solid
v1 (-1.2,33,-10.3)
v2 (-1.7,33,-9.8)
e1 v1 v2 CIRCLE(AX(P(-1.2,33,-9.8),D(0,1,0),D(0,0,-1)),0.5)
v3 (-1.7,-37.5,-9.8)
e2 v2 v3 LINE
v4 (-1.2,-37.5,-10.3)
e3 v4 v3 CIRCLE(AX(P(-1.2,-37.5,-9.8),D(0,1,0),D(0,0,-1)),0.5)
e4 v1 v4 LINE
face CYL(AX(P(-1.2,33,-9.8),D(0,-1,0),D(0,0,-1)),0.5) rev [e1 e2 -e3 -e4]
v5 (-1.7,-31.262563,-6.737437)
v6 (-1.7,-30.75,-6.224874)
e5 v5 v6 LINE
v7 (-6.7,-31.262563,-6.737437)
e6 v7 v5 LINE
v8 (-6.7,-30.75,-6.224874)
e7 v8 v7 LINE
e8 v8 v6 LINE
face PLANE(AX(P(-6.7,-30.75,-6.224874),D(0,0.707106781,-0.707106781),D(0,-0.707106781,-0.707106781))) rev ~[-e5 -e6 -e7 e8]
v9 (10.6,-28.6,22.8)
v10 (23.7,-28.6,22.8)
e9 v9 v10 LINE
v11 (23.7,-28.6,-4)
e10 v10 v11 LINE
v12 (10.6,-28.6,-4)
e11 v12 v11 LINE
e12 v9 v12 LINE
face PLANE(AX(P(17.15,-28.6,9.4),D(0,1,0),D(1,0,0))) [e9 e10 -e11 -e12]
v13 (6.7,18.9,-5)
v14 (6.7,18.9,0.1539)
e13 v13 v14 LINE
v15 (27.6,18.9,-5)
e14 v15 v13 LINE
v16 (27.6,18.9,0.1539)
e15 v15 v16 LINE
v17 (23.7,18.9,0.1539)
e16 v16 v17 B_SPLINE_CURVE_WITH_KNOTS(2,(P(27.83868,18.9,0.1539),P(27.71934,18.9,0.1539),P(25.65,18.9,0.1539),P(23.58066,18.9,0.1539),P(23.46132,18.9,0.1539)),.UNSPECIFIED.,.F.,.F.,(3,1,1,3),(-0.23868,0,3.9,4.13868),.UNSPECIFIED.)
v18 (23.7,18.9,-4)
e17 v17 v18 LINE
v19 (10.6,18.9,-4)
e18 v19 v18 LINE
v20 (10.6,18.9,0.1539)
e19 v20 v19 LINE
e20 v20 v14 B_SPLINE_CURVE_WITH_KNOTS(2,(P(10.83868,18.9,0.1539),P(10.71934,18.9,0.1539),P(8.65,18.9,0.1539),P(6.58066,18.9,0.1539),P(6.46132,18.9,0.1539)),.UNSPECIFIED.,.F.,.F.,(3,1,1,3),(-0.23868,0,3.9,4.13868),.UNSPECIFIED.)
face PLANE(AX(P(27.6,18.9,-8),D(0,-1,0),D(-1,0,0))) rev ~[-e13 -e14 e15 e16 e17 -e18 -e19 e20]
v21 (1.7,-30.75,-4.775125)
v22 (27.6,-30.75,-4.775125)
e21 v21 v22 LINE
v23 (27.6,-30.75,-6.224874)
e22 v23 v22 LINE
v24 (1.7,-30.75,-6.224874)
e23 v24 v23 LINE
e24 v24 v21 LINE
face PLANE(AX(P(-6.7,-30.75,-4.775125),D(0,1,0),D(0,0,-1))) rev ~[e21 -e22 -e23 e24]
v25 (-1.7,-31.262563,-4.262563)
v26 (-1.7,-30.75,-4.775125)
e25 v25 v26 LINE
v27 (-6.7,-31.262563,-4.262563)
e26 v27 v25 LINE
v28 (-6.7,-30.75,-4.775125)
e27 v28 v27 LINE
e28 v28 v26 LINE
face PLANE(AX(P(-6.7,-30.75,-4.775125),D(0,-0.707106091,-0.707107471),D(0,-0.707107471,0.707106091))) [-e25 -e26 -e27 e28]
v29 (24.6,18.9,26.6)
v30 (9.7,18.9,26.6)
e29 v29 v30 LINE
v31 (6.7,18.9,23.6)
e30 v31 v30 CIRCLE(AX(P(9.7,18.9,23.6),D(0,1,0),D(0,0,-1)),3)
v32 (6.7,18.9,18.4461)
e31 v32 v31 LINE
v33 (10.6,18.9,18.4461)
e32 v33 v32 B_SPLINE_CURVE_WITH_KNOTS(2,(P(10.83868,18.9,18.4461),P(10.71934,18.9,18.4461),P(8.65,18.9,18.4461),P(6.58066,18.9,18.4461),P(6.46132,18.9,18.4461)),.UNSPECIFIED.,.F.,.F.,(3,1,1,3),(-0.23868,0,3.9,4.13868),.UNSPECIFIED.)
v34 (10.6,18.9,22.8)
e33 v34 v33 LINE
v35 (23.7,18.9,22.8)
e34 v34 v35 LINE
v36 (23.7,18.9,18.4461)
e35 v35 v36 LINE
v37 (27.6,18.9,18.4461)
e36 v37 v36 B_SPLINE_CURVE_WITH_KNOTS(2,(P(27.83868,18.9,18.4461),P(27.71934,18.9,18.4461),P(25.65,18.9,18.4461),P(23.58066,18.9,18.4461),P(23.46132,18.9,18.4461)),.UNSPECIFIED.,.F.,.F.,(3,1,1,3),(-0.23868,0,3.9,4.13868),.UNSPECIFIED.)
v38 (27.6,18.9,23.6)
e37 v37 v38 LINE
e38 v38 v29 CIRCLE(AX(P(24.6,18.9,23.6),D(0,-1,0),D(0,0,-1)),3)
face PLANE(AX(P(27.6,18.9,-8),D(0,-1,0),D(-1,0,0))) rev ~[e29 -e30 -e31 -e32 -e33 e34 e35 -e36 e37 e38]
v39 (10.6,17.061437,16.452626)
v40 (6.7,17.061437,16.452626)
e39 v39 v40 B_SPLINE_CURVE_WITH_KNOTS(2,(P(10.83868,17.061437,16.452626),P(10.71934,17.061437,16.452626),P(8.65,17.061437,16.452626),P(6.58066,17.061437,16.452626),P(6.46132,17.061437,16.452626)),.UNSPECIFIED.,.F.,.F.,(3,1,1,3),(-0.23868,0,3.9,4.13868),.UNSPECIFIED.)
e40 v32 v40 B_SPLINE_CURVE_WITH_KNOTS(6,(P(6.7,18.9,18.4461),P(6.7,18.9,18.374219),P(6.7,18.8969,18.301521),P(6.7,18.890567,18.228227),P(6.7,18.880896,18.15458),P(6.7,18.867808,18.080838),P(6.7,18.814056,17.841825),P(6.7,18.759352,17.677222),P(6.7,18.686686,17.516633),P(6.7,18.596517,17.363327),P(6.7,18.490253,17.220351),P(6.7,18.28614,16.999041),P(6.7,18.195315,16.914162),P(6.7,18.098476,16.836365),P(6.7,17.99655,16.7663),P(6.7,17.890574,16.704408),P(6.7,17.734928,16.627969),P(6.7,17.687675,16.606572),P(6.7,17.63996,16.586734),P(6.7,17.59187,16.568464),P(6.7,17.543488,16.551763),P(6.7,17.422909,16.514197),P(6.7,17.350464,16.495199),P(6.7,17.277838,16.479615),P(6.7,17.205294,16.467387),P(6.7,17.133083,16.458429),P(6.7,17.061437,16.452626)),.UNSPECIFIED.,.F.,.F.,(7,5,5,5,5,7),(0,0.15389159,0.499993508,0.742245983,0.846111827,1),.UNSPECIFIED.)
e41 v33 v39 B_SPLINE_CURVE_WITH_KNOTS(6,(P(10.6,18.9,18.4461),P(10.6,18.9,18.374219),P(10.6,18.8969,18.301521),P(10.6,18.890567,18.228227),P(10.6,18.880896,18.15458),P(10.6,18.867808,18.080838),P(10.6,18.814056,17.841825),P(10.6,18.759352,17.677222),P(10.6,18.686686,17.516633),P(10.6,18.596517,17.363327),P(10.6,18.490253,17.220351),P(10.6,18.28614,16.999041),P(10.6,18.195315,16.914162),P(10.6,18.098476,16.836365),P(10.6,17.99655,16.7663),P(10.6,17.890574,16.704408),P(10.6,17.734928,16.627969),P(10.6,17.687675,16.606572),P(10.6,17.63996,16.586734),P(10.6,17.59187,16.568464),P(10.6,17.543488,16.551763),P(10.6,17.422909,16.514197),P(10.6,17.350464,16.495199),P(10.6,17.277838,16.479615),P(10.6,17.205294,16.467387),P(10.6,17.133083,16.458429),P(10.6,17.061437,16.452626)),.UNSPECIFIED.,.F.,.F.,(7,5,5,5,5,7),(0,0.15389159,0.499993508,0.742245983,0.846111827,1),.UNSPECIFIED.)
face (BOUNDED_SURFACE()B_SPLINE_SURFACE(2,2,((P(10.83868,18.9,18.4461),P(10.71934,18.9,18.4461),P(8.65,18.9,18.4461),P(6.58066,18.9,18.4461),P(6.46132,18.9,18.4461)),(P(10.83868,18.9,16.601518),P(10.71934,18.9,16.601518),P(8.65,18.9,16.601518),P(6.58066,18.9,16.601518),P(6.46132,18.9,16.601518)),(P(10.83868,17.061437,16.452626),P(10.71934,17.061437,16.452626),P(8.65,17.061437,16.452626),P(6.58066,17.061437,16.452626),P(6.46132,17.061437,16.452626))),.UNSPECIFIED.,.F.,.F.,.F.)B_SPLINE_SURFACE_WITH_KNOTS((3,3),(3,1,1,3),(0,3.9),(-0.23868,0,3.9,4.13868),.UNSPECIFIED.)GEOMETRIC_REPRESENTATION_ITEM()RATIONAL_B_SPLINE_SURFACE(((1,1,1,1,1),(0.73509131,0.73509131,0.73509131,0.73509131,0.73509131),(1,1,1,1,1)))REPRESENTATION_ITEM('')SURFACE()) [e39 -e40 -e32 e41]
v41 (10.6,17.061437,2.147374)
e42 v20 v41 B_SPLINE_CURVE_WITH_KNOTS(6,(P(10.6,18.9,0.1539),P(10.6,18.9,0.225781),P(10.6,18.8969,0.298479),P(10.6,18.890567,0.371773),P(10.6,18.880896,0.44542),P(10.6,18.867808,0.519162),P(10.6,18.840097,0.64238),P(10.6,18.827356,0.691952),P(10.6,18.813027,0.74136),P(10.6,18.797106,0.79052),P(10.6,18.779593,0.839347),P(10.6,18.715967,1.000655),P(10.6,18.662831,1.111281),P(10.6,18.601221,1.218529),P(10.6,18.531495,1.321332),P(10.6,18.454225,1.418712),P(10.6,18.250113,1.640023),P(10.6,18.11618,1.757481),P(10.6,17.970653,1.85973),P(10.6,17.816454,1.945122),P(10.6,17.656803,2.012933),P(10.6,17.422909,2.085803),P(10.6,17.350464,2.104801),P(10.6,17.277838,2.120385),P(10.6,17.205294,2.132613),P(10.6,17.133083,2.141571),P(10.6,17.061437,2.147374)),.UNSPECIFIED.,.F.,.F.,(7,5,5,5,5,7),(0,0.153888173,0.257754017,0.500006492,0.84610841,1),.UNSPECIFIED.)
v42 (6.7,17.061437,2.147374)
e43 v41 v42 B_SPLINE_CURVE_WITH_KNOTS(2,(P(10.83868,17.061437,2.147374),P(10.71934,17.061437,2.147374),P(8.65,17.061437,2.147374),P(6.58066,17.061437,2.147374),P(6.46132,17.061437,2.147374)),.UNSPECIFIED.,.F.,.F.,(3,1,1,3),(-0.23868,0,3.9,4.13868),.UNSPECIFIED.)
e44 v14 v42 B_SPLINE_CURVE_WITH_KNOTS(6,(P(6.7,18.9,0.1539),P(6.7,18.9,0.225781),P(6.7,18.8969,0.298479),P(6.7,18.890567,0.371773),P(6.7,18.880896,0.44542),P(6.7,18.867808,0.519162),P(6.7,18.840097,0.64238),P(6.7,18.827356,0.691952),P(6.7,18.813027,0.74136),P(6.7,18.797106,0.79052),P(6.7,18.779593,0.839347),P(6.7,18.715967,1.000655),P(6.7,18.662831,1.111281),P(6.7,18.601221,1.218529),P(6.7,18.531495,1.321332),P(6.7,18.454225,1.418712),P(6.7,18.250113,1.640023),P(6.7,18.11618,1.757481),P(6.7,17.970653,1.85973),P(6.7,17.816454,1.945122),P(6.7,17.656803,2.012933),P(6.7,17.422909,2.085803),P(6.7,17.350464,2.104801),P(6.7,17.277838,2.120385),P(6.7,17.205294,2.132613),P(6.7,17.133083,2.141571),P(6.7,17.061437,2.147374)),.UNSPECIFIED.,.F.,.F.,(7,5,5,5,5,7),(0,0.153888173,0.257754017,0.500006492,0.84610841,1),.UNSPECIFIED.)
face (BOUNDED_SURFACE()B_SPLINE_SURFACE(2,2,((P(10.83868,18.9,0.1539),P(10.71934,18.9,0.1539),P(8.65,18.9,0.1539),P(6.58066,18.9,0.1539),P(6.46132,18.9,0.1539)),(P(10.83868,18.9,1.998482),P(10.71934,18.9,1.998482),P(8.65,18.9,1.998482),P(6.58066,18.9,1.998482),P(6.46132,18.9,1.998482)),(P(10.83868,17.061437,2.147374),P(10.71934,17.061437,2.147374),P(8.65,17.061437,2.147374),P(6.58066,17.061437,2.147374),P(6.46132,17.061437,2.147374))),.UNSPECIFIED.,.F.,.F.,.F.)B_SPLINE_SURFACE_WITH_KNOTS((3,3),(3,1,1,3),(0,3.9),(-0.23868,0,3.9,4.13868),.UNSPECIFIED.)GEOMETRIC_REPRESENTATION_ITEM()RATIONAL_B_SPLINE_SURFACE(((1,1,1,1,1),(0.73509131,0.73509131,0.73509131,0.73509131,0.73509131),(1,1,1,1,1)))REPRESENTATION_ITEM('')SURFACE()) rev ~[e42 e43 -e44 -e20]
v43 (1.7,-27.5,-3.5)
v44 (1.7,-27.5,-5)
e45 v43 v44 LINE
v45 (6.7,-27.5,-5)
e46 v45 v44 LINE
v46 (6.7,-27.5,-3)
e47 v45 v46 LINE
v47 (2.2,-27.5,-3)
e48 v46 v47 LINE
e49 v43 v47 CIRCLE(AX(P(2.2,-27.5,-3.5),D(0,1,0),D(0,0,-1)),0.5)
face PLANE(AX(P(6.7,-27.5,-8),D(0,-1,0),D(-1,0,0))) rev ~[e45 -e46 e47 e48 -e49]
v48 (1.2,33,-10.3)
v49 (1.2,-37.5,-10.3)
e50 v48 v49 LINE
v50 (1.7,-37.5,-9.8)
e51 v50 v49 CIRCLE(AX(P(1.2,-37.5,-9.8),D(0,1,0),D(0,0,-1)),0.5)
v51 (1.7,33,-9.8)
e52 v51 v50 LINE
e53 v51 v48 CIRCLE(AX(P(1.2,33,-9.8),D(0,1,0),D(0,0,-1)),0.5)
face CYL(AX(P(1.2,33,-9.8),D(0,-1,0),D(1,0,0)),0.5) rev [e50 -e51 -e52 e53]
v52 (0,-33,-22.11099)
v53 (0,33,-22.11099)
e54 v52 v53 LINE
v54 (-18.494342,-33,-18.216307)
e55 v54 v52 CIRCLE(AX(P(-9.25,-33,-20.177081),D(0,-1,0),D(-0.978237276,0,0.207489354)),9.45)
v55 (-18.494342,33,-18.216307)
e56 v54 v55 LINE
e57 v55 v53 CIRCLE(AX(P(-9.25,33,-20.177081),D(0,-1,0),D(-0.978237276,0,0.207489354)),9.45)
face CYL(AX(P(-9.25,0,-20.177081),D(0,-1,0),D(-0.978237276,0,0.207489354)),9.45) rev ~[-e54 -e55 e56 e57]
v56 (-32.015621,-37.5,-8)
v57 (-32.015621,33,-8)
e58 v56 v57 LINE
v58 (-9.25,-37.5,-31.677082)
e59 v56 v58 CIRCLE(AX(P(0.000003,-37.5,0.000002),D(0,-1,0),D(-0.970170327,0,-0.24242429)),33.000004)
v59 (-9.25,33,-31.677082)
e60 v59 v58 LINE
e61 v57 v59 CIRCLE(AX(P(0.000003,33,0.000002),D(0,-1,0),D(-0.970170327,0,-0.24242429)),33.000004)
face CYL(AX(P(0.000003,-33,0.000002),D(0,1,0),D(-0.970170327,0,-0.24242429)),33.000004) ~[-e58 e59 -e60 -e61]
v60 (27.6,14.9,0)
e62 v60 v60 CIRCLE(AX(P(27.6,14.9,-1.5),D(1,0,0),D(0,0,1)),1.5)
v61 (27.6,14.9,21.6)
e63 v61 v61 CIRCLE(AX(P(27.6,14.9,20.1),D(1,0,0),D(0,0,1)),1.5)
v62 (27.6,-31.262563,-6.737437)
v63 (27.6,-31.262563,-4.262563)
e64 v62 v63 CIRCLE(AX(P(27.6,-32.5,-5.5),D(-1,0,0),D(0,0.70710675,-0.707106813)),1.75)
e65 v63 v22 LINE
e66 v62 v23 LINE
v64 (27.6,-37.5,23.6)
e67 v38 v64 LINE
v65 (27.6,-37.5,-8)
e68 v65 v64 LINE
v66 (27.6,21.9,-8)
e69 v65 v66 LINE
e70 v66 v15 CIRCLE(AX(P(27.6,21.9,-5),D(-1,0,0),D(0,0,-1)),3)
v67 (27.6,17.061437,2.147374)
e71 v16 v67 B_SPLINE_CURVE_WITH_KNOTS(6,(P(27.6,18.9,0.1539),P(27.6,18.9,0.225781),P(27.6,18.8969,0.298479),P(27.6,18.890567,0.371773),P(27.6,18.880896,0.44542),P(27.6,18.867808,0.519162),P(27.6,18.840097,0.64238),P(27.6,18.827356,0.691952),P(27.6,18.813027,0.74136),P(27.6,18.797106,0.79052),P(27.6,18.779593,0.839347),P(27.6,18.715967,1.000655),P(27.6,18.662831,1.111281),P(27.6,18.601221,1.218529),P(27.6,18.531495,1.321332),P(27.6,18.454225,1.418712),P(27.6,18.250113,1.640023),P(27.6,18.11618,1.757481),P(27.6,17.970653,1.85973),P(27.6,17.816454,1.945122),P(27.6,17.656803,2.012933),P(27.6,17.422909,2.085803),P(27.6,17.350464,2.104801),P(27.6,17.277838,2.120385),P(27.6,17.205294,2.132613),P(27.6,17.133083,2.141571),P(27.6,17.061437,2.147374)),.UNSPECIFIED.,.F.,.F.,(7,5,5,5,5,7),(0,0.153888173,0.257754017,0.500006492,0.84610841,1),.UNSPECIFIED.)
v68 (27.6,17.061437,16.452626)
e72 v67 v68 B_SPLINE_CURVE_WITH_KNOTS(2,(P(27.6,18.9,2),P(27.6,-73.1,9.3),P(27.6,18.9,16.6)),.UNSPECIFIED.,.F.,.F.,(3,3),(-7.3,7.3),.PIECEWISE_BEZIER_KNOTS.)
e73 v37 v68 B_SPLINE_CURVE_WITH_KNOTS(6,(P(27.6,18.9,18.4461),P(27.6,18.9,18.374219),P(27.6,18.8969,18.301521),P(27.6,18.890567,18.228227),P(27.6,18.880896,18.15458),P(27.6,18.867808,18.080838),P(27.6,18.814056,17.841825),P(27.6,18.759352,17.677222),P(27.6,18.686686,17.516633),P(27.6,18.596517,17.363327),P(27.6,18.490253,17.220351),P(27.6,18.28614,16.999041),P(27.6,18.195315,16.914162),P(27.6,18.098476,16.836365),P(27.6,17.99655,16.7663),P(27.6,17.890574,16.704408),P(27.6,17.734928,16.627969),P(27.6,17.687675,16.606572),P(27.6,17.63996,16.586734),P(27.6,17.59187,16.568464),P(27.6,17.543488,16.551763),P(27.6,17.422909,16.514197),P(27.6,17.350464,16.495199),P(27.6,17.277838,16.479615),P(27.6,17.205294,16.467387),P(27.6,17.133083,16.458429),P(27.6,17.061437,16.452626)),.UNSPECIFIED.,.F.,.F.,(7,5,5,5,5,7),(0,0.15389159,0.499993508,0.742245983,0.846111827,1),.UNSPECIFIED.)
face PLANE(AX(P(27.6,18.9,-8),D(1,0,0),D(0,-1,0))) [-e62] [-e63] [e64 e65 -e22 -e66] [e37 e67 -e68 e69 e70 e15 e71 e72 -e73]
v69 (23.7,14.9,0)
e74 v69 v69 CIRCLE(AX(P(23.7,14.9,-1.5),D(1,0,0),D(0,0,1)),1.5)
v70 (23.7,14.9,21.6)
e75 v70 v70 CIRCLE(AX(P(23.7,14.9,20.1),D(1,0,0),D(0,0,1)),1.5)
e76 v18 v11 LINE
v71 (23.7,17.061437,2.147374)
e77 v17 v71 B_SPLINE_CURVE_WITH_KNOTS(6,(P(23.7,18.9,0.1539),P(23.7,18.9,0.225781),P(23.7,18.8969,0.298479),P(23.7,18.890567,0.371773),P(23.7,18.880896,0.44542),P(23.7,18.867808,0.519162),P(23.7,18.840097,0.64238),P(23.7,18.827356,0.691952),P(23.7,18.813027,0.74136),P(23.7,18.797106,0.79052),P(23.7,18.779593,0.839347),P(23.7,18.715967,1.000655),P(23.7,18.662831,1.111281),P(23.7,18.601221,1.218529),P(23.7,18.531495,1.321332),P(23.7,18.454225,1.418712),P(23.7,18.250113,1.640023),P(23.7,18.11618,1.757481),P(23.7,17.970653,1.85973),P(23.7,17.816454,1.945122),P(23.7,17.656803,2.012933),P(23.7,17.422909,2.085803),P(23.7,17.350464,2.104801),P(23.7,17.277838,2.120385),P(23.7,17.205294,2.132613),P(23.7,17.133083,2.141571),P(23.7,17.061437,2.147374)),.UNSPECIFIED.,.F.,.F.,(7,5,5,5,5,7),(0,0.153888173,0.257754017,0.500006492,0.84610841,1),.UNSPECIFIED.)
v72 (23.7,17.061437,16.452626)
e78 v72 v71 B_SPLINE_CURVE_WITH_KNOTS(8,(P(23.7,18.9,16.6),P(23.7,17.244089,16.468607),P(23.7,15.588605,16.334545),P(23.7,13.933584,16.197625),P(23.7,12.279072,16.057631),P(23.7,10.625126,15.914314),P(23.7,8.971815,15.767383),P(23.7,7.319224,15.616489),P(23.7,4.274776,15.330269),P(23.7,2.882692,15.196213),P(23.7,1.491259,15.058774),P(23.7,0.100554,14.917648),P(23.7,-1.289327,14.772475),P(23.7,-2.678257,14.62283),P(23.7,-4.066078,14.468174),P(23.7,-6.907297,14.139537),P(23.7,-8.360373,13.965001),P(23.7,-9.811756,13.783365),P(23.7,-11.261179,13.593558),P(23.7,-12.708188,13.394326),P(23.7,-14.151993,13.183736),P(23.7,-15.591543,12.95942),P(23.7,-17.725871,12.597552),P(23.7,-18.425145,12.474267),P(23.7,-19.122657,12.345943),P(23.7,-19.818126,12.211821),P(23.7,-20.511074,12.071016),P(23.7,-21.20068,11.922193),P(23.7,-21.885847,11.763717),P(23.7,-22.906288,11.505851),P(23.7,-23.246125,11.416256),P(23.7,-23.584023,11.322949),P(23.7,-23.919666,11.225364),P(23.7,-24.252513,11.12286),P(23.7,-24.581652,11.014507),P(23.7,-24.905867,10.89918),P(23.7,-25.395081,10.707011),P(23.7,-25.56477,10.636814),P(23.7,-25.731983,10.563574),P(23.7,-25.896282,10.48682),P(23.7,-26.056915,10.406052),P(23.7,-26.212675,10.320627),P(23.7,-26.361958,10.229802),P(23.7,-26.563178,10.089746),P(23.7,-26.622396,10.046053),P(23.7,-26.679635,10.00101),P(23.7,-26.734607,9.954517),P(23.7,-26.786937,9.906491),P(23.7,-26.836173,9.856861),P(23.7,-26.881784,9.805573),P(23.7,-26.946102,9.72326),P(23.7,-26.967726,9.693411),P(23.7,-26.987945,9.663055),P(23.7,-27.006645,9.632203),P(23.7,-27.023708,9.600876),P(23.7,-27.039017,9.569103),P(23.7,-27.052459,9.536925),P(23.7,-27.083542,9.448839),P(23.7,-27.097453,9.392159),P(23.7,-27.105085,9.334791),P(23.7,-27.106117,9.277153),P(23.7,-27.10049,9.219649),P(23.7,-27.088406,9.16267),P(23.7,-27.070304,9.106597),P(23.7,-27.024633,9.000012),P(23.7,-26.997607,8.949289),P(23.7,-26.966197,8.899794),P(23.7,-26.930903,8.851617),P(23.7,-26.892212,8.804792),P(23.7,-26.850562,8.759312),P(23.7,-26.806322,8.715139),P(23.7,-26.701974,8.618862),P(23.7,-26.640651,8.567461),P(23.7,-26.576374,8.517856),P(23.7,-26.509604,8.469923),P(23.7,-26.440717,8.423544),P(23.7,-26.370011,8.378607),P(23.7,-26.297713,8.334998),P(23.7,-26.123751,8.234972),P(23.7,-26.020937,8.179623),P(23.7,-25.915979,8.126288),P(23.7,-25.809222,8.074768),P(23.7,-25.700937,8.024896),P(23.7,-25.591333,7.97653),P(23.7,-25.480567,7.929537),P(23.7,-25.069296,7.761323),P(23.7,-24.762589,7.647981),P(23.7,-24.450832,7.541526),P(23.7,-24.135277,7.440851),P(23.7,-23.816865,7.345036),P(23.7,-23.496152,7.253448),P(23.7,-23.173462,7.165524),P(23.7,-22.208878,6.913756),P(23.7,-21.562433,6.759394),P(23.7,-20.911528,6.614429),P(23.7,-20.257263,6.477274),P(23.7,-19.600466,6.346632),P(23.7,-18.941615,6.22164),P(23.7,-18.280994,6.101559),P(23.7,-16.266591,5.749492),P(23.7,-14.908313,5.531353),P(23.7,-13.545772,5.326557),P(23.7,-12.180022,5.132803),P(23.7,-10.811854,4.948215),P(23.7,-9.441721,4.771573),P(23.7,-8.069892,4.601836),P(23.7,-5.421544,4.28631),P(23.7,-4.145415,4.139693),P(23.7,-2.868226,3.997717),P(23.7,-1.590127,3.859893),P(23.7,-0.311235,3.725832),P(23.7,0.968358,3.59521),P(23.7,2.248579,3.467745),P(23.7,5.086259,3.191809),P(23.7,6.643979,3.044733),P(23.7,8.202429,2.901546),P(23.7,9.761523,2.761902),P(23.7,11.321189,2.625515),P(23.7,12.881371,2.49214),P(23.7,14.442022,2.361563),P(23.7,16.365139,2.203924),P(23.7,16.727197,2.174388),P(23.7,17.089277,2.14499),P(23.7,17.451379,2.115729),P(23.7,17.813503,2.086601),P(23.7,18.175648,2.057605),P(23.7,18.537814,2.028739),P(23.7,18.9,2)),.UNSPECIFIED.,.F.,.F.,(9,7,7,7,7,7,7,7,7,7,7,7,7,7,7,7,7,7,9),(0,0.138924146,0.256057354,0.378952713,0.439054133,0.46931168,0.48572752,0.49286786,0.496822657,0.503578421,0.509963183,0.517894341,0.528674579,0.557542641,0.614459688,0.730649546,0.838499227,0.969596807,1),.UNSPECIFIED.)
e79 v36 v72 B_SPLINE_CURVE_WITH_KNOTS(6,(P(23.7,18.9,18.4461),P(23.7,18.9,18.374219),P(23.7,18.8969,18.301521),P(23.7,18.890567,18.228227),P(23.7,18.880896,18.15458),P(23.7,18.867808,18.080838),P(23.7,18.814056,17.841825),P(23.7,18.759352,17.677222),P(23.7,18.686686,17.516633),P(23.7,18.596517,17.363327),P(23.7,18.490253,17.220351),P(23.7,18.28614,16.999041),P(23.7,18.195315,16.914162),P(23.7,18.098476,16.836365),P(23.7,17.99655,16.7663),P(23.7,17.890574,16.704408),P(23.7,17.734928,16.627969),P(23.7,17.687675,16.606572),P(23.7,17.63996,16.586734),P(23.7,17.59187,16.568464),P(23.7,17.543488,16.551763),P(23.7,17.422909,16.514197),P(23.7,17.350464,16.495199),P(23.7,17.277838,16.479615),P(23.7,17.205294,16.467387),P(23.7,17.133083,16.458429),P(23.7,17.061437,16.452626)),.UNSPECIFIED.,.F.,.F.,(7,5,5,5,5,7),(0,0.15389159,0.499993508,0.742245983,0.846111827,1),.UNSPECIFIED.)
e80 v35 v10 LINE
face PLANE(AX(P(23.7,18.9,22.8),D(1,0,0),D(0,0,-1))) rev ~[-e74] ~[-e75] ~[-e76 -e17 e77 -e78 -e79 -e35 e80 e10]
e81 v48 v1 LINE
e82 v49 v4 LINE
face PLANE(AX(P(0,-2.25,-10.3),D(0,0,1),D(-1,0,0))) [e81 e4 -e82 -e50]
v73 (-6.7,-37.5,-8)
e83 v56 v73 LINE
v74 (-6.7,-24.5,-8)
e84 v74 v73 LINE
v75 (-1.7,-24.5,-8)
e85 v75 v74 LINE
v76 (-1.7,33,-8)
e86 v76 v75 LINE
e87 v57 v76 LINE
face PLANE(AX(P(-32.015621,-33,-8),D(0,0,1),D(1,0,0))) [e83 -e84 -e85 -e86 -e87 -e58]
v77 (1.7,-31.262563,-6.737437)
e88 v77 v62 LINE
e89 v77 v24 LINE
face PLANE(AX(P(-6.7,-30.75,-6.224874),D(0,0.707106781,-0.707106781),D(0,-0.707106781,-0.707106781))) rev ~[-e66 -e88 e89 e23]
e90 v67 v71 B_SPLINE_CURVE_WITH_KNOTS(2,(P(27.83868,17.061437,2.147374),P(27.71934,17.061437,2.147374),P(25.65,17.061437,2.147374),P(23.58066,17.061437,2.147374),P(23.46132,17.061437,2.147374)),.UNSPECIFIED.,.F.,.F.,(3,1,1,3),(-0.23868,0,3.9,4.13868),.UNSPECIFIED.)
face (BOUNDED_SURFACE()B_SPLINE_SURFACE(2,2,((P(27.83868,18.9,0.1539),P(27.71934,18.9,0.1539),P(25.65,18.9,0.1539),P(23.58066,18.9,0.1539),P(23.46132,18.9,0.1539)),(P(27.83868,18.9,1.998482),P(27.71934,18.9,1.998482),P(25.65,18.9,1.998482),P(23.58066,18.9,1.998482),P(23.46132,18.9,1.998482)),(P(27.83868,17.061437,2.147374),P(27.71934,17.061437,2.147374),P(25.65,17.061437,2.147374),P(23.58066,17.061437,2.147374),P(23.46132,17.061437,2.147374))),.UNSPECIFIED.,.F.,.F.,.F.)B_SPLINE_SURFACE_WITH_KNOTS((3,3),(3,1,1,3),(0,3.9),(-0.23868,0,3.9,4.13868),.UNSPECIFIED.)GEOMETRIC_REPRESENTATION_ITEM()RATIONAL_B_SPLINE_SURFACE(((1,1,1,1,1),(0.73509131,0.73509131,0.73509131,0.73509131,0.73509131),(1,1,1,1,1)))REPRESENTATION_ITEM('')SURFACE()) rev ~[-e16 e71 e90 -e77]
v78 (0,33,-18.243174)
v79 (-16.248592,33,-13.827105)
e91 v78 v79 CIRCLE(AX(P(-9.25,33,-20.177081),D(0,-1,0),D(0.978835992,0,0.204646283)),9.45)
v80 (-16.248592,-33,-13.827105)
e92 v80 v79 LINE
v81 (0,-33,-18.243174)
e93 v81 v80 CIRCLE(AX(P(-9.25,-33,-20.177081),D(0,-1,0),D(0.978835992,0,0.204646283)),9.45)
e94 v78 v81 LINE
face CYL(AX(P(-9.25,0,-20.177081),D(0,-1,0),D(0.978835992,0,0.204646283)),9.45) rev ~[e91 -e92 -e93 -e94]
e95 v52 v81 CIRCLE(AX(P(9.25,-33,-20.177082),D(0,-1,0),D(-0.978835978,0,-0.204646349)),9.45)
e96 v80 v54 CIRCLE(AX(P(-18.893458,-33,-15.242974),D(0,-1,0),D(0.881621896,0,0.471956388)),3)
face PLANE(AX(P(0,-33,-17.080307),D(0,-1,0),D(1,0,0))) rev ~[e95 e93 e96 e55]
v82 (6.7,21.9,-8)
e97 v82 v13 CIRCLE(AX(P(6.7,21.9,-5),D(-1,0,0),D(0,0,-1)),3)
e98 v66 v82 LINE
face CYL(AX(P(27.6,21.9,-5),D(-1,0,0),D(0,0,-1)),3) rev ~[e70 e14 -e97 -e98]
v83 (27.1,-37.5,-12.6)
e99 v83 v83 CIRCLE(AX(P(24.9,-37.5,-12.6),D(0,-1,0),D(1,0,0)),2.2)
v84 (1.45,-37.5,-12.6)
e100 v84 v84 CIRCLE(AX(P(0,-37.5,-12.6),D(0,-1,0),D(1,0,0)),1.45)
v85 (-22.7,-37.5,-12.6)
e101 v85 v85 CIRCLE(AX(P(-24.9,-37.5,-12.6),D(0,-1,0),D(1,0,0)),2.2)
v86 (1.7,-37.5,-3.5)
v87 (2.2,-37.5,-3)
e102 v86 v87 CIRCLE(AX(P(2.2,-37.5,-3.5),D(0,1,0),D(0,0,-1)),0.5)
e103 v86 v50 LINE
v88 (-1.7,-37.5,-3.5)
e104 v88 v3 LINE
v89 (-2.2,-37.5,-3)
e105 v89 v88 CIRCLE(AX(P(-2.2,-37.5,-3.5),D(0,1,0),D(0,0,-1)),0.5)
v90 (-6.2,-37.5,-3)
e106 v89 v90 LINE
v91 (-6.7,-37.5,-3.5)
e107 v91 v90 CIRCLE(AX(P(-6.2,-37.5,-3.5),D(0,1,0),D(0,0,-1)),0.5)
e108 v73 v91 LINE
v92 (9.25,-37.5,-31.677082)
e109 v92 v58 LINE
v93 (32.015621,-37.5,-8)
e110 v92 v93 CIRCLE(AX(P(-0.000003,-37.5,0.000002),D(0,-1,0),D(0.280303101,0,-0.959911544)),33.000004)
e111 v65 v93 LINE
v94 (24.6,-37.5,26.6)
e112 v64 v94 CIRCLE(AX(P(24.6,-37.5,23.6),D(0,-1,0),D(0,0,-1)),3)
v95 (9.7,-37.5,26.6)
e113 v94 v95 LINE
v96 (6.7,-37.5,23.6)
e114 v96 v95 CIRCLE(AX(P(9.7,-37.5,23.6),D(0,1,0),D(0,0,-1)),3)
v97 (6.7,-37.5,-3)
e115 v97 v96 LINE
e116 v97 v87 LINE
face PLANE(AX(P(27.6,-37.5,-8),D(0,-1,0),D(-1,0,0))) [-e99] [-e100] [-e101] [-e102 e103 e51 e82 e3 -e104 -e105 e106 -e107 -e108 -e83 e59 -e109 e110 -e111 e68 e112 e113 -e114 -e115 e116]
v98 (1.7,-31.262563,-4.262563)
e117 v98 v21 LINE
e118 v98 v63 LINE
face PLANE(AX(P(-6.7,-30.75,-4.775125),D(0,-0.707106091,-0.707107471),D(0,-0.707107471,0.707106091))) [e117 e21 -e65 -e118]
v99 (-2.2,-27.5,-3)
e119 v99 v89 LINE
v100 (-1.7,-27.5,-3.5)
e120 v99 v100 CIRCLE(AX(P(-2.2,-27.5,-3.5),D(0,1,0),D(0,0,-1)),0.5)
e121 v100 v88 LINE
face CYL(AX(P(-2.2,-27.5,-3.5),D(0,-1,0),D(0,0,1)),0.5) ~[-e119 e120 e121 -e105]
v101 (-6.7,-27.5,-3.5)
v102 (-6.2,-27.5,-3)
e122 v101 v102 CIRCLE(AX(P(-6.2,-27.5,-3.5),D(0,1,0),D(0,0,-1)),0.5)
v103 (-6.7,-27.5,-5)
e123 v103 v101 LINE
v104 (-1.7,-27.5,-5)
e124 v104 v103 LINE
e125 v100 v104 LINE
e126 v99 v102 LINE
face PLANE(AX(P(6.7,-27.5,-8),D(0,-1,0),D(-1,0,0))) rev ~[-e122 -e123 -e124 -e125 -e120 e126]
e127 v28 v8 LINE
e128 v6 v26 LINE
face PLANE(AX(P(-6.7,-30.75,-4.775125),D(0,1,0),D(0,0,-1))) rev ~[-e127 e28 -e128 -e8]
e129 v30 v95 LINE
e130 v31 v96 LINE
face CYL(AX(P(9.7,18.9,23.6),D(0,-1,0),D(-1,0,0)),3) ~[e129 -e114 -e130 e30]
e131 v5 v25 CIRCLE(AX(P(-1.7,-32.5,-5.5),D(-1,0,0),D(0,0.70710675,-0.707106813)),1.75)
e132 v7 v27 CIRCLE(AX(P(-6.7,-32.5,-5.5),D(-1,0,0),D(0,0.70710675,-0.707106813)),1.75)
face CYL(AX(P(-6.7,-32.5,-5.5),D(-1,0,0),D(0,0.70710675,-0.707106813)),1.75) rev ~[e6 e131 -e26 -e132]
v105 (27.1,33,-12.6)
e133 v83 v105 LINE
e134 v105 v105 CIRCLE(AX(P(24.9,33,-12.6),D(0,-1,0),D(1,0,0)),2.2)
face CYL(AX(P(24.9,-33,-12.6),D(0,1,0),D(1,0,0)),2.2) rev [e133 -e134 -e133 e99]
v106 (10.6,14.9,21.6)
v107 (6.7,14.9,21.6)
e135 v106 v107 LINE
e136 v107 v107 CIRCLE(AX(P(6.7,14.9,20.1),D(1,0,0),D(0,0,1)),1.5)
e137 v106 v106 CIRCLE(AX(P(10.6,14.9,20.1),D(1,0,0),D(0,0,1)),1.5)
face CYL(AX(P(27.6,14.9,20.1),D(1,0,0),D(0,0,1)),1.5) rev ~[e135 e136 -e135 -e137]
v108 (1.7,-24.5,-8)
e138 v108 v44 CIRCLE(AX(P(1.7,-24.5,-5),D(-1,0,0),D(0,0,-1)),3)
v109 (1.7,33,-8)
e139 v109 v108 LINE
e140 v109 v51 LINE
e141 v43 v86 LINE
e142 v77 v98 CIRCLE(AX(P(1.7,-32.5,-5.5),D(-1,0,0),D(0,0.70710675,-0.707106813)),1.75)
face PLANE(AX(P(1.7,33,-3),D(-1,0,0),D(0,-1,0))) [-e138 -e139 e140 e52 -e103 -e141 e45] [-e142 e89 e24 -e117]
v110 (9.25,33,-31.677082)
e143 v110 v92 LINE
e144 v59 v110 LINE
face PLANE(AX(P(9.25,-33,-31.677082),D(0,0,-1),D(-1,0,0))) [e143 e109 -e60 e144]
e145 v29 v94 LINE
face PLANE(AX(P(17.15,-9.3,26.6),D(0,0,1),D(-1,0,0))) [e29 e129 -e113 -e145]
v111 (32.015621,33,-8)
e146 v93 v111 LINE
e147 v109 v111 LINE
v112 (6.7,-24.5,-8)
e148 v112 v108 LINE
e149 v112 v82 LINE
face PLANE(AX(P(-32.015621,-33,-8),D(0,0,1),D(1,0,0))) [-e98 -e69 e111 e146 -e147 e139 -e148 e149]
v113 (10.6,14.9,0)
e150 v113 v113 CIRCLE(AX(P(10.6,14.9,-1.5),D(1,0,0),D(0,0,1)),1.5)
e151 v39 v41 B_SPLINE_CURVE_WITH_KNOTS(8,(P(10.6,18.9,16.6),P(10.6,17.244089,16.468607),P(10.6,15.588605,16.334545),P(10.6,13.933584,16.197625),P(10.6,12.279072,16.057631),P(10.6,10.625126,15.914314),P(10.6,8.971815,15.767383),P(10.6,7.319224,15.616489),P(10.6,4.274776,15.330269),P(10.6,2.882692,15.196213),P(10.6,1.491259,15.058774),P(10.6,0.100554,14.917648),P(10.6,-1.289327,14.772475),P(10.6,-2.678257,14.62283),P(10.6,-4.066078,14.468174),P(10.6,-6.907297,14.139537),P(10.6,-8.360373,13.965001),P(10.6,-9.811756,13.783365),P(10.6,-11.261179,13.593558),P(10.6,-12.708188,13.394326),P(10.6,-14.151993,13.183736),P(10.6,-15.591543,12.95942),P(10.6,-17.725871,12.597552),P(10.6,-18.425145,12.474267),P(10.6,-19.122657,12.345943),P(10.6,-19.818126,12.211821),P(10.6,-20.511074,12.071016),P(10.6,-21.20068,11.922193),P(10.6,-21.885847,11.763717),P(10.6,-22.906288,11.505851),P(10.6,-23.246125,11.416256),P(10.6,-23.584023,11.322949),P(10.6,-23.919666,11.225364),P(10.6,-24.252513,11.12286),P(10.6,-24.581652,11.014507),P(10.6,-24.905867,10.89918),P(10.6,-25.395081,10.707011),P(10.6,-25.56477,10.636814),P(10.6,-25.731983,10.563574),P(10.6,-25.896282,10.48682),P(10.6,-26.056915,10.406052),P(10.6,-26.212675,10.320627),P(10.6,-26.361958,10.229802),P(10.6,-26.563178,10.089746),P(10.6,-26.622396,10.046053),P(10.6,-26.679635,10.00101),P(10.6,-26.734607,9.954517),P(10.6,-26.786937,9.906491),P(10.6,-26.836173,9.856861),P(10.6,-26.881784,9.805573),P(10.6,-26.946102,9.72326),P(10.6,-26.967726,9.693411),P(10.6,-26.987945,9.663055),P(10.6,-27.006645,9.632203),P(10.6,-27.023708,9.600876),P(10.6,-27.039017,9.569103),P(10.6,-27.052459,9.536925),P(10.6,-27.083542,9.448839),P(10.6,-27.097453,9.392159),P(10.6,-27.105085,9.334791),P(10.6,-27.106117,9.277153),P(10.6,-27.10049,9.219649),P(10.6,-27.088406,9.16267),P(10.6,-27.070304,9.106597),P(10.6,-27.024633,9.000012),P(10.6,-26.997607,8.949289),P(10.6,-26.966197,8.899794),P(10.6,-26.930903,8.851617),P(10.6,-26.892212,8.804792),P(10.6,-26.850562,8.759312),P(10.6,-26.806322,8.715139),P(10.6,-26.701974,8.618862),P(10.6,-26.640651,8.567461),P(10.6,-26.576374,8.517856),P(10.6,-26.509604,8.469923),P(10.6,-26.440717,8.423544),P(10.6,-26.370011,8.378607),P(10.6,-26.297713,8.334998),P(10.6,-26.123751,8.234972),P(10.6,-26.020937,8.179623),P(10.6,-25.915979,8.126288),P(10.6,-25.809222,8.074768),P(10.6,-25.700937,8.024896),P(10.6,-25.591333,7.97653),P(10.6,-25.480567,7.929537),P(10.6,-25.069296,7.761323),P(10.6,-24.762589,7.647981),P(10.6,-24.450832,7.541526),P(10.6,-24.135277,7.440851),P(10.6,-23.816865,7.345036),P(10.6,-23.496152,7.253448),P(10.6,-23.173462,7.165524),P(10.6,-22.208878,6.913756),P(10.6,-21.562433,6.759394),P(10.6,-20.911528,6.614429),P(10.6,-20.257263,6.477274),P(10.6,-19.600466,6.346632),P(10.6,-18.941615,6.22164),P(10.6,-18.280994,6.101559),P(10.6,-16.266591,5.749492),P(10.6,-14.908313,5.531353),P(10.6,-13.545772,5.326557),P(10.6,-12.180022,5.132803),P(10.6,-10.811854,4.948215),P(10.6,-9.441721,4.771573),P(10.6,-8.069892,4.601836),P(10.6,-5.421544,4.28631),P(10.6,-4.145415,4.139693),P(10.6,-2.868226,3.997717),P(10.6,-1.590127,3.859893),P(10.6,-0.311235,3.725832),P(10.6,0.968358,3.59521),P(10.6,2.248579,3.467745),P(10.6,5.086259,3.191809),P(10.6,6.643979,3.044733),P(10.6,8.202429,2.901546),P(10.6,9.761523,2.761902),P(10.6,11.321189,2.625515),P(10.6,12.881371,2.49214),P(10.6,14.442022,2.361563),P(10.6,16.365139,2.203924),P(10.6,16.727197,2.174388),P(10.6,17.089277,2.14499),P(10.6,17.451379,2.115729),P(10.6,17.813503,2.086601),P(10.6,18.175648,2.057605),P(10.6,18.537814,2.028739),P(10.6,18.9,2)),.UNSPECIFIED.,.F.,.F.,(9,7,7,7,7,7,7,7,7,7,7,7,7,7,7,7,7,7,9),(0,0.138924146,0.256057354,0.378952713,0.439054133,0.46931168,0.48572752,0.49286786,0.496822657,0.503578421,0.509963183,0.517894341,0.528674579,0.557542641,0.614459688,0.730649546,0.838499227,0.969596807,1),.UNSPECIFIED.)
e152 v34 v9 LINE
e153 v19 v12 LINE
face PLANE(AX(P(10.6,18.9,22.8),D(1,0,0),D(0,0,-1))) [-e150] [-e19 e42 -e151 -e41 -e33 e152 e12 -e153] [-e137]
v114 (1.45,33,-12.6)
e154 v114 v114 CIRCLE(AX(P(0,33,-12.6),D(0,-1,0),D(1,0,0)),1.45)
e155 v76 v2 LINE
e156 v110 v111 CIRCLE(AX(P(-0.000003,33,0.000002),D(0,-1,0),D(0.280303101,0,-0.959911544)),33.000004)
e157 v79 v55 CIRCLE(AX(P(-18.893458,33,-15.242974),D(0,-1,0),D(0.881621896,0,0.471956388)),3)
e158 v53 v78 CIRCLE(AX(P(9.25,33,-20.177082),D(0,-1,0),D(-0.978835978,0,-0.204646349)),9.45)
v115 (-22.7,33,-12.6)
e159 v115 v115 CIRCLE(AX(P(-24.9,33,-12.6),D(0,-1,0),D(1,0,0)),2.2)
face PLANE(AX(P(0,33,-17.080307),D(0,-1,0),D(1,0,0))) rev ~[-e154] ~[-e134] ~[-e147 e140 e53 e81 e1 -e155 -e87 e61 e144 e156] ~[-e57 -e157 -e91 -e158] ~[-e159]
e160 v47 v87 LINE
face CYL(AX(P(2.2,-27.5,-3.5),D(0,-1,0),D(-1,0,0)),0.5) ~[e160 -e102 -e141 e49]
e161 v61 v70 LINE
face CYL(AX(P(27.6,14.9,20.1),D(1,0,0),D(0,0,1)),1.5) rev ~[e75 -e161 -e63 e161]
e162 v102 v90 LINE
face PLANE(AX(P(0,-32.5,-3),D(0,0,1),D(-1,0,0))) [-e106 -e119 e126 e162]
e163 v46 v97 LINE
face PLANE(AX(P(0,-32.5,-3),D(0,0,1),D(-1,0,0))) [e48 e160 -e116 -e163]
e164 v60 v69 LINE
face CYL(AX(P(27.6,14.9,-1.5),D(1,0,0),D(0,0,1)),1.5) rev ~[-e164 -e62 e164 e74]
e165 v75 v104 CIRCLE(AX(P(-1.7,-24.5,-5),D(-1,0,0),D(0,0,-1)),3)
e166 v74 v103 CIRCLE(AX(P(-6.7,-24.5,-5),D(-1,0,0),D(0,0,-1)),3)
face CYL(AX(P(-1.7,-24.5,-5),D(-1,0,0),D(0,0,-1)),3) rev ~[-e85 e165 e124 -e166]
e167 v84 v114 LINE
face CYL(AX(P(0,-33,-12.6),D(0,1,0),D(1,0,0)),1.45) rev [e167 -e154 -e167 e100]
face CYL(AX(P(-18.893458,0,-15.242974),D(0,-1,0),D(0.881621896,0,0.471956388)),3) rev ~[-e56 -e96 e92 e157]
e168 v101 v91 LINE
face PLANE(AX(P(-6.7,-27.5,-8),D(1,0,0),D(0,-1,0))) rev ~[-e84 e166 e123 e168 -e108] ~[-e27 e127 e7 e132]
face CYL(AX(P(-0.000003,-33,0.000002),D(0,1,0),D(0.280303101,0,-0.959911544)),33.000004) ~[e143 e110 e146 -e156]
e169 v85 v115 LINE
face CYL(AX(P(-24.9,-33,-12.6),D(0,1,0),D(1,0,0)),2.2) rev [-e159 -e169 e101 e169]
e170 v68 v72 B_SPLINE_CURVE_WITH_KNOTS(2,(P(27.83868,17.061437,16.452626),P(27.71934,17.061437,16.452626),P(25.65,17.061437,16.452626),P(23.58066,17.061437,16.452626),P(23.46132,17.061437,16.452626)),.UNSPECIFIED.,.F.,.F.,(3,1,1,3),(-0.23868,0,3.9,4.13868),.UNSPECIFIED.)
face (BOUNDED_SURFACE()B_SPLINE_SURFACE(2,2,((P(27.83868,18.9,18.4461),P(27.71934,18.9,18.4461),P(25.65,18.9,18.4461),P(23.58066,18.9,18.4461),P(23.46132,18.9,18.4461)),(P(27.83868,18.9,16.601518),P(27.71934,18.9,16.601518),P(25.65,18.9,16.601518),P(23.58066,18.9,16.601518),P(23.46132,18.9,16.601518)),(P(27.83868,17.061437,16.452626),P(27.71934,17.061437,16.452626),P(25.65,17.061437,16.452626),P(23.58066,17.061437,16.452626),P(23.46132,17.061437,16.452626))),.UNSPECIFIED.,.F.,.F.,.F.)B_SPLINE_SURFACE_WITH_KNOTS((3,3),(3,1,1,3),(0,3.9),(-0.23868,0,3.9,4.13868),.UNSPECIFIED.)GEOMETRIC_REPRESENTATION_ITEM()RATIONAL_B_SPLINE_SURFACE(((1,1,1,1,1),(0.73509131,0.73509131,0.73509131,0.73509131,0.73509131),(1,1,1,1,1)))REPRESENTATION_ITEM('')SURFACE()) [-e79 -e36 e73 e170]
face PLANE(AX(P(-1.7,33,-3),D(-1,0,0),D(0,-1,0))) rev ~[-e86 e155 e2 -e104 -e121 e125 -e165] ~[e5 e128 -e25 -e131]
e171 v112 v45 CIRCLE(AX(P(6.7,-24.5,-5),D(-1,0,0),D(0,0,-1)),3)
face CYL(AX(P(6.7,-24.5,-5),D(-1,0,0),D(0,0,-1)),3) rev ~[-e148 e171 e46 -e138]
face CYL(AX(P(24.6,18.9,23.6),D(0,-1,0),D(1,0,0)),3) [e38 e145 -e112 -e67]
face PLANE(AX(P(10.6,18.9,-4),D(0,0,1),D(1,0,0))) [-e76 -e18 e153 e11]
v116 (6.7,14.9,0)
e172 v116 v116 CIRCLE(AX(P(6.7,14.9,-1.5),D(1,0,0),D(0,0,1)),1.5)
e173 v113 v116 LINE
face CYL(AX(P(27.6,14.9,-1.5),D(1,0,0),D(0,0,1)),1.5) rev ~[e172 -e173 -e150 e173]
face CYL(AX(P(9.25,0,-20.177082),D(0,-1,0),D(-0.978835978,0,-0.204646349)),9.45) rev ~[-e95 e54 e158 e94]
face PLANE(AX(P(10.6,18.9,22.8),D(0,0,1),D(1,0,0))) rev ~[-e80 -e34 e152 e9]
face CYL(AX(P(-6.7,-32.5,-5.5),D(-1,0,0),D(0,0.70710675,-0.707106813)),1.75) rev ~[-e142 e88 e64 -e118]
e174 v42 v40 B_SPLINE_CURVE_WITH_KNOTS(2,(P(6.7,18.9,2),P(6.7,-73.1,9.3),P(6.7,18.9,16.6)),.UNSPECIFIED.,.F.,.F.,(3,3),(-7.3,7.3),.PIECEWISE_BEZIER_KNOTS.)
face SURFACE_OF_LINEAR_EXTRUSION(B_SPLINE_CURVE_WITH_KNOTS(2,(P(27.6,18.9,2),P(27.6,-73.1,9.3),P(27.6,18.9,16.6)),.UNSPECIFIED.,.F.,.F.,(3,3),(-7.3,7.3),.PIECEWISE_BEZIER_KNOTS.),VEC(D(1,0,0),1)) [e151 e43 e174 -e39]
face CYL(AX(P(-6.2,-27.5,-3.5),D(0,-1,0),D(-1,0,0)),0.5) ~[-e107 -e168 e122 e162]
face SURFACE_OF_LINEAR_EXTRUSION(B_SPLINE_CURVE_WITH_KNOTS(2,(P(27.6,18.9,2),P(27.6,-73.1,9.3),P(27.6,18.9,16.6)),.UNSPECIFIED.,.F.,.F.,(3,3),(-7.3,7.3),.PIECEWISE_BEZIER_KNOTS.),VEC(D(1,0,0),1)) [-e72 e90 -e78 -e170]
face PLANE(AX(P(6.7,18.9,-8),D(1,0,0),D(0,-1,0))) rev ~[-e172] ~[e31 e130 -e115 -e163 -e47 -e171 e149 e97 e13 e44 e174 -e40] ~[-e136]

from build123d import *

# Parameters (mm, degrees)
SKETCH_R        = 2.2
SKETCH_R_2      = 1.45
PAD_DEPTH       = 33
SKETCH037_R     = 2.2
SKETCH037_R_2   = 1.45
PAD016_DEPTH    = 4.5
SKETCH039_W     = 13.4
SKETCH039_H     = 10
PAD017_DEPTH    = 5
SKETCH045_W     = 20.9
SKETCH045_H     = 56.4
PAD018_DEPTH    = 34.6
POCKET022_DEPTH = 38.716621
SKETCH046_W     = 13.1
SKETCH046_H     = 26.8
POCKET023_DEPTH = 47.5
SKETCH047_R     = 1.5
POCKET024_DEPTH = 20.9
SKETCH041_W     = 3.4
SKETCH041_H     = 70.5
POCKET025_DEPTH = 7.3
FILLET006_R     = 0.5
FILLET007_R     = 3
FILLET008_R     = 3
FILLET009_R     = 2
FILLET010_R     = 3
FILLET011_R     = 0.5


with BuildPart() as part:
    # Sketch → Pad (new body, symmetric)
    with BuildSketch(Plane.XZ):
        with BuildLine():
            Line((-9.25, -31.677082), (9.25, -31.677082))
            ThreePointArc((9.25, -31.677082), (23.787894, -22.872168), (32.015621, -8))
            Line((-32.015621, -8), (32.015621, -8))
            ThreePointArc((-32.015621, -8), (-23.787894, -22.872168), (-9.25, -31.677082))
        make_face()
        with Locations((24.9, -12.6)):
            Circle(SKETCH_R, mode=Mode.SUBTRACT)
        with Locations((-24.9, -12.6)):
            Circle(SKETCH_R, mode=Mode.SUBTRACT)
        with Locations((0, -12.6)):
            Circle(SKETCH_R_2, mode=Mode.SUBTRACT)
        with BuildLine():
            ThreePointArc((0, -18.243174), (-6.771568, -11.057878), (-16.248592, -13.827105))
            ThreePointArc((-16.248592, -13.827105), (-21.564175, -13.876493), (-18.494342, -18.216307))
            ThreePointArc((-18.494342, -18.216307), (-11.197344, -29.424262), (0, -22.11099))
            ThreePointArc((0, -22.11099), (18.7, -20.177082), (0, -18.243174))
        make_face(mode=Mode.SUBTRACT)
    extrude(amount=PAD_DEPTH, both=True)

    # Sketch037 → Pad016 (join)
    with BuildSketch(Plane.XZ.offset(33)):
        with BuildLine():
            ThreePointArc((-32.015621, -8), (-23.787894, -22.872168), (-9.25, -31.677082))
            Line((9.25, -31.677082), (-9.25, -31.677082))
            ThreePointArc((9.25, -31.677082), (23.787894, -22.872168), (32.015621, -8))
            Line((-32.015621, -8), (32.015621, -8))
        make_face()
        with Locations((-24.9, -12.6)):
            Circle(SKETCH037_R, mode=Mode.SUBTRACT)
        with Locations((0, -12.6)):
            Circle(SKETCH037_R_2, mode=Mode.SUBTRACT)
        with Locations((24.9, -12.6)):
            Circle(SKETCH037_R, mode=Mode.SUBTRACT)
    extrude(amount=PAD016_DEPTH)

    # Sketch039 (on Face2 of Pad016) → Pad017 (join)
    with BuildSketch(Plane(origin=(0, 0, -8), x_dir=(-1, 0, 0), z_dir=(0, 0, 1))):
        with Locations((0, 32.5)):
            Rectangle(SKETCH039_W, SKETCH039_H)
    extrude(amount=PAD017_DEPTH)

    # Sketch045 (on Face2 of Pad017) → Pad018 (join)
    with BuildSketch(Plane(origin=(0, 0, -8), x_dir=(-1, 0, 0), z_dir=(0, 0, 1))):
        with Locations((-17.15, 9.3)):
            Rectangle(SKETCH045_W, SKETCH045_H)
    extrude(amount=PAD018_DEPTH)

    # Sketch040 (on Face12 of Pad018) → Pocket022 (cut, through all)
    with BuildSketch(Plane(origin=(-6.7, 0, -11), x_dir=(0, 0, -1), z_dir=(-1, 0, 0))):
        with BuildLine():
            Line((-6.224875, 30.75), (-4.775126, 30.75))
            Line((-4.775126, 30.75), (-4.262563, 31.262563))
            ThreePointArc((-4.262563, 31.262563), (-5.5, 34.25), (-6.737437, 31.262563))
            Line((-6.224875, 30.75), (-6.737437, 31.262563))
        make_face()
    extrude(amount=-POCKET022_DEPTH, mode=Mode.SUBTRACT)

    # Sketch046 (on Face9 of Pocket022) → Pocket023 (cut)
    with BuildSketch(Plane(origin=(0, 18.9, 0), x_dir=(1, 0, 0), z_dir=(0, 1, 0))):
        with Locations((17.15, -9.4)):
            Rectangle(SKETCH046_W, SKETCH046_H)
    extrude(amount=-POCKET023_DEPTH, mode=Mode.SUBTRACT)

    # Sketch047 (on Face8 of Pocket023) → Pocket024 (cut)
    with BuildSketch(Plane(origin=(27.6, 0, 0), x_dir=(0, 0, 1), z_dir=(1, 0, 0))):
        with BuildLine():
            add(Edge.make_bspline(
                [(2, -18.9), (9.3, 73.1), (16.6, -18.9)],
                knots=[-7.3, -7.3, -7.3, 7.3, 7.3, 7.3], degree=2))
            Line((16.6, -18.9), (2, -18.9))
        make_face()
        with Locations((-1.5, -14.9)):
            Circle(SKETCH047_R)
        with Locations((20.1, -14.9)):
            Circle(SKETCH047_R)
    extrude(amount=-POCKET024_DEPTH, mode=Mode.SUBTRACT)

    # Sketch041 (on Face38 of Pocket024) → Pocket025 (cut)
    with BuildSketch(Plane(origin=(0, 0, -3), x_dir=(-1, 0, 0), z_dir=(0, 0, 1))):
        with Locations((0, 2.25)):
            Rectangle(SKETCH041_W, SKETCH041_H)
    extrude(amount=-POCKET025_DEPTH, mode=Mode.SUBTRACT)

    # Fillet006
    fillet006_edges = [part.edges().sort_by_distance(p)[0] for p in [
        (-6.7, -32.5, -3),
        (1.7, -32.5, -3),
        (-1.7, -32.5, -3),
    ]]
    fillet(fillet006_edges, radius=FILLET006_R)

    # Fillet007
    fillet007_edges = [part.edges().sort_by_distance(p)[0] for p in [
        (-4.2, -27.5, -8),
        (4.2, -27.5, -8),
    ]]
    fillet(fillet007_edges, radius=FILLET007_R)

    # Fillet008
    fillet008_edges = [part.edges().sort_by_distance(p)[0] for p in [
        (27.6, -9.3, 26.6),
        (6.7, -9.3, 26.6),
    ]]
    fillet(fillet008_edges, radius=FILLET008_R)

    # Fillet009
    fillet009_edges = [part.edges().sort_by_distance(p)[0] for p in [
        (8.65, 18.9, 2),
        (25.65, 18.9, 2),
        (25.65, 18.9, 16.6),
        (8.65, 18.9, 16.6),
    ]]
    fillet(fillet009_edges, radius=FILLET009_R)

    # Fillet010
    fillet010_edges = [part.edges().sort_by_distance(p)[0] for p in [
        (17.15, 18.9, -8),
    ]]
    fillet(fillet010_edges, radius=FILLET010_R)

    # Fillet011
    fillet011_edges = [part.edges().sort_by_distance(p)[0] for p in [
        (1.7, -2.25, -10.3),
        (-1.7, -2.25, -10.3),
    ]]
    fillet(fillet011_edges, radius=FILLET011_R)


solid = part.part
